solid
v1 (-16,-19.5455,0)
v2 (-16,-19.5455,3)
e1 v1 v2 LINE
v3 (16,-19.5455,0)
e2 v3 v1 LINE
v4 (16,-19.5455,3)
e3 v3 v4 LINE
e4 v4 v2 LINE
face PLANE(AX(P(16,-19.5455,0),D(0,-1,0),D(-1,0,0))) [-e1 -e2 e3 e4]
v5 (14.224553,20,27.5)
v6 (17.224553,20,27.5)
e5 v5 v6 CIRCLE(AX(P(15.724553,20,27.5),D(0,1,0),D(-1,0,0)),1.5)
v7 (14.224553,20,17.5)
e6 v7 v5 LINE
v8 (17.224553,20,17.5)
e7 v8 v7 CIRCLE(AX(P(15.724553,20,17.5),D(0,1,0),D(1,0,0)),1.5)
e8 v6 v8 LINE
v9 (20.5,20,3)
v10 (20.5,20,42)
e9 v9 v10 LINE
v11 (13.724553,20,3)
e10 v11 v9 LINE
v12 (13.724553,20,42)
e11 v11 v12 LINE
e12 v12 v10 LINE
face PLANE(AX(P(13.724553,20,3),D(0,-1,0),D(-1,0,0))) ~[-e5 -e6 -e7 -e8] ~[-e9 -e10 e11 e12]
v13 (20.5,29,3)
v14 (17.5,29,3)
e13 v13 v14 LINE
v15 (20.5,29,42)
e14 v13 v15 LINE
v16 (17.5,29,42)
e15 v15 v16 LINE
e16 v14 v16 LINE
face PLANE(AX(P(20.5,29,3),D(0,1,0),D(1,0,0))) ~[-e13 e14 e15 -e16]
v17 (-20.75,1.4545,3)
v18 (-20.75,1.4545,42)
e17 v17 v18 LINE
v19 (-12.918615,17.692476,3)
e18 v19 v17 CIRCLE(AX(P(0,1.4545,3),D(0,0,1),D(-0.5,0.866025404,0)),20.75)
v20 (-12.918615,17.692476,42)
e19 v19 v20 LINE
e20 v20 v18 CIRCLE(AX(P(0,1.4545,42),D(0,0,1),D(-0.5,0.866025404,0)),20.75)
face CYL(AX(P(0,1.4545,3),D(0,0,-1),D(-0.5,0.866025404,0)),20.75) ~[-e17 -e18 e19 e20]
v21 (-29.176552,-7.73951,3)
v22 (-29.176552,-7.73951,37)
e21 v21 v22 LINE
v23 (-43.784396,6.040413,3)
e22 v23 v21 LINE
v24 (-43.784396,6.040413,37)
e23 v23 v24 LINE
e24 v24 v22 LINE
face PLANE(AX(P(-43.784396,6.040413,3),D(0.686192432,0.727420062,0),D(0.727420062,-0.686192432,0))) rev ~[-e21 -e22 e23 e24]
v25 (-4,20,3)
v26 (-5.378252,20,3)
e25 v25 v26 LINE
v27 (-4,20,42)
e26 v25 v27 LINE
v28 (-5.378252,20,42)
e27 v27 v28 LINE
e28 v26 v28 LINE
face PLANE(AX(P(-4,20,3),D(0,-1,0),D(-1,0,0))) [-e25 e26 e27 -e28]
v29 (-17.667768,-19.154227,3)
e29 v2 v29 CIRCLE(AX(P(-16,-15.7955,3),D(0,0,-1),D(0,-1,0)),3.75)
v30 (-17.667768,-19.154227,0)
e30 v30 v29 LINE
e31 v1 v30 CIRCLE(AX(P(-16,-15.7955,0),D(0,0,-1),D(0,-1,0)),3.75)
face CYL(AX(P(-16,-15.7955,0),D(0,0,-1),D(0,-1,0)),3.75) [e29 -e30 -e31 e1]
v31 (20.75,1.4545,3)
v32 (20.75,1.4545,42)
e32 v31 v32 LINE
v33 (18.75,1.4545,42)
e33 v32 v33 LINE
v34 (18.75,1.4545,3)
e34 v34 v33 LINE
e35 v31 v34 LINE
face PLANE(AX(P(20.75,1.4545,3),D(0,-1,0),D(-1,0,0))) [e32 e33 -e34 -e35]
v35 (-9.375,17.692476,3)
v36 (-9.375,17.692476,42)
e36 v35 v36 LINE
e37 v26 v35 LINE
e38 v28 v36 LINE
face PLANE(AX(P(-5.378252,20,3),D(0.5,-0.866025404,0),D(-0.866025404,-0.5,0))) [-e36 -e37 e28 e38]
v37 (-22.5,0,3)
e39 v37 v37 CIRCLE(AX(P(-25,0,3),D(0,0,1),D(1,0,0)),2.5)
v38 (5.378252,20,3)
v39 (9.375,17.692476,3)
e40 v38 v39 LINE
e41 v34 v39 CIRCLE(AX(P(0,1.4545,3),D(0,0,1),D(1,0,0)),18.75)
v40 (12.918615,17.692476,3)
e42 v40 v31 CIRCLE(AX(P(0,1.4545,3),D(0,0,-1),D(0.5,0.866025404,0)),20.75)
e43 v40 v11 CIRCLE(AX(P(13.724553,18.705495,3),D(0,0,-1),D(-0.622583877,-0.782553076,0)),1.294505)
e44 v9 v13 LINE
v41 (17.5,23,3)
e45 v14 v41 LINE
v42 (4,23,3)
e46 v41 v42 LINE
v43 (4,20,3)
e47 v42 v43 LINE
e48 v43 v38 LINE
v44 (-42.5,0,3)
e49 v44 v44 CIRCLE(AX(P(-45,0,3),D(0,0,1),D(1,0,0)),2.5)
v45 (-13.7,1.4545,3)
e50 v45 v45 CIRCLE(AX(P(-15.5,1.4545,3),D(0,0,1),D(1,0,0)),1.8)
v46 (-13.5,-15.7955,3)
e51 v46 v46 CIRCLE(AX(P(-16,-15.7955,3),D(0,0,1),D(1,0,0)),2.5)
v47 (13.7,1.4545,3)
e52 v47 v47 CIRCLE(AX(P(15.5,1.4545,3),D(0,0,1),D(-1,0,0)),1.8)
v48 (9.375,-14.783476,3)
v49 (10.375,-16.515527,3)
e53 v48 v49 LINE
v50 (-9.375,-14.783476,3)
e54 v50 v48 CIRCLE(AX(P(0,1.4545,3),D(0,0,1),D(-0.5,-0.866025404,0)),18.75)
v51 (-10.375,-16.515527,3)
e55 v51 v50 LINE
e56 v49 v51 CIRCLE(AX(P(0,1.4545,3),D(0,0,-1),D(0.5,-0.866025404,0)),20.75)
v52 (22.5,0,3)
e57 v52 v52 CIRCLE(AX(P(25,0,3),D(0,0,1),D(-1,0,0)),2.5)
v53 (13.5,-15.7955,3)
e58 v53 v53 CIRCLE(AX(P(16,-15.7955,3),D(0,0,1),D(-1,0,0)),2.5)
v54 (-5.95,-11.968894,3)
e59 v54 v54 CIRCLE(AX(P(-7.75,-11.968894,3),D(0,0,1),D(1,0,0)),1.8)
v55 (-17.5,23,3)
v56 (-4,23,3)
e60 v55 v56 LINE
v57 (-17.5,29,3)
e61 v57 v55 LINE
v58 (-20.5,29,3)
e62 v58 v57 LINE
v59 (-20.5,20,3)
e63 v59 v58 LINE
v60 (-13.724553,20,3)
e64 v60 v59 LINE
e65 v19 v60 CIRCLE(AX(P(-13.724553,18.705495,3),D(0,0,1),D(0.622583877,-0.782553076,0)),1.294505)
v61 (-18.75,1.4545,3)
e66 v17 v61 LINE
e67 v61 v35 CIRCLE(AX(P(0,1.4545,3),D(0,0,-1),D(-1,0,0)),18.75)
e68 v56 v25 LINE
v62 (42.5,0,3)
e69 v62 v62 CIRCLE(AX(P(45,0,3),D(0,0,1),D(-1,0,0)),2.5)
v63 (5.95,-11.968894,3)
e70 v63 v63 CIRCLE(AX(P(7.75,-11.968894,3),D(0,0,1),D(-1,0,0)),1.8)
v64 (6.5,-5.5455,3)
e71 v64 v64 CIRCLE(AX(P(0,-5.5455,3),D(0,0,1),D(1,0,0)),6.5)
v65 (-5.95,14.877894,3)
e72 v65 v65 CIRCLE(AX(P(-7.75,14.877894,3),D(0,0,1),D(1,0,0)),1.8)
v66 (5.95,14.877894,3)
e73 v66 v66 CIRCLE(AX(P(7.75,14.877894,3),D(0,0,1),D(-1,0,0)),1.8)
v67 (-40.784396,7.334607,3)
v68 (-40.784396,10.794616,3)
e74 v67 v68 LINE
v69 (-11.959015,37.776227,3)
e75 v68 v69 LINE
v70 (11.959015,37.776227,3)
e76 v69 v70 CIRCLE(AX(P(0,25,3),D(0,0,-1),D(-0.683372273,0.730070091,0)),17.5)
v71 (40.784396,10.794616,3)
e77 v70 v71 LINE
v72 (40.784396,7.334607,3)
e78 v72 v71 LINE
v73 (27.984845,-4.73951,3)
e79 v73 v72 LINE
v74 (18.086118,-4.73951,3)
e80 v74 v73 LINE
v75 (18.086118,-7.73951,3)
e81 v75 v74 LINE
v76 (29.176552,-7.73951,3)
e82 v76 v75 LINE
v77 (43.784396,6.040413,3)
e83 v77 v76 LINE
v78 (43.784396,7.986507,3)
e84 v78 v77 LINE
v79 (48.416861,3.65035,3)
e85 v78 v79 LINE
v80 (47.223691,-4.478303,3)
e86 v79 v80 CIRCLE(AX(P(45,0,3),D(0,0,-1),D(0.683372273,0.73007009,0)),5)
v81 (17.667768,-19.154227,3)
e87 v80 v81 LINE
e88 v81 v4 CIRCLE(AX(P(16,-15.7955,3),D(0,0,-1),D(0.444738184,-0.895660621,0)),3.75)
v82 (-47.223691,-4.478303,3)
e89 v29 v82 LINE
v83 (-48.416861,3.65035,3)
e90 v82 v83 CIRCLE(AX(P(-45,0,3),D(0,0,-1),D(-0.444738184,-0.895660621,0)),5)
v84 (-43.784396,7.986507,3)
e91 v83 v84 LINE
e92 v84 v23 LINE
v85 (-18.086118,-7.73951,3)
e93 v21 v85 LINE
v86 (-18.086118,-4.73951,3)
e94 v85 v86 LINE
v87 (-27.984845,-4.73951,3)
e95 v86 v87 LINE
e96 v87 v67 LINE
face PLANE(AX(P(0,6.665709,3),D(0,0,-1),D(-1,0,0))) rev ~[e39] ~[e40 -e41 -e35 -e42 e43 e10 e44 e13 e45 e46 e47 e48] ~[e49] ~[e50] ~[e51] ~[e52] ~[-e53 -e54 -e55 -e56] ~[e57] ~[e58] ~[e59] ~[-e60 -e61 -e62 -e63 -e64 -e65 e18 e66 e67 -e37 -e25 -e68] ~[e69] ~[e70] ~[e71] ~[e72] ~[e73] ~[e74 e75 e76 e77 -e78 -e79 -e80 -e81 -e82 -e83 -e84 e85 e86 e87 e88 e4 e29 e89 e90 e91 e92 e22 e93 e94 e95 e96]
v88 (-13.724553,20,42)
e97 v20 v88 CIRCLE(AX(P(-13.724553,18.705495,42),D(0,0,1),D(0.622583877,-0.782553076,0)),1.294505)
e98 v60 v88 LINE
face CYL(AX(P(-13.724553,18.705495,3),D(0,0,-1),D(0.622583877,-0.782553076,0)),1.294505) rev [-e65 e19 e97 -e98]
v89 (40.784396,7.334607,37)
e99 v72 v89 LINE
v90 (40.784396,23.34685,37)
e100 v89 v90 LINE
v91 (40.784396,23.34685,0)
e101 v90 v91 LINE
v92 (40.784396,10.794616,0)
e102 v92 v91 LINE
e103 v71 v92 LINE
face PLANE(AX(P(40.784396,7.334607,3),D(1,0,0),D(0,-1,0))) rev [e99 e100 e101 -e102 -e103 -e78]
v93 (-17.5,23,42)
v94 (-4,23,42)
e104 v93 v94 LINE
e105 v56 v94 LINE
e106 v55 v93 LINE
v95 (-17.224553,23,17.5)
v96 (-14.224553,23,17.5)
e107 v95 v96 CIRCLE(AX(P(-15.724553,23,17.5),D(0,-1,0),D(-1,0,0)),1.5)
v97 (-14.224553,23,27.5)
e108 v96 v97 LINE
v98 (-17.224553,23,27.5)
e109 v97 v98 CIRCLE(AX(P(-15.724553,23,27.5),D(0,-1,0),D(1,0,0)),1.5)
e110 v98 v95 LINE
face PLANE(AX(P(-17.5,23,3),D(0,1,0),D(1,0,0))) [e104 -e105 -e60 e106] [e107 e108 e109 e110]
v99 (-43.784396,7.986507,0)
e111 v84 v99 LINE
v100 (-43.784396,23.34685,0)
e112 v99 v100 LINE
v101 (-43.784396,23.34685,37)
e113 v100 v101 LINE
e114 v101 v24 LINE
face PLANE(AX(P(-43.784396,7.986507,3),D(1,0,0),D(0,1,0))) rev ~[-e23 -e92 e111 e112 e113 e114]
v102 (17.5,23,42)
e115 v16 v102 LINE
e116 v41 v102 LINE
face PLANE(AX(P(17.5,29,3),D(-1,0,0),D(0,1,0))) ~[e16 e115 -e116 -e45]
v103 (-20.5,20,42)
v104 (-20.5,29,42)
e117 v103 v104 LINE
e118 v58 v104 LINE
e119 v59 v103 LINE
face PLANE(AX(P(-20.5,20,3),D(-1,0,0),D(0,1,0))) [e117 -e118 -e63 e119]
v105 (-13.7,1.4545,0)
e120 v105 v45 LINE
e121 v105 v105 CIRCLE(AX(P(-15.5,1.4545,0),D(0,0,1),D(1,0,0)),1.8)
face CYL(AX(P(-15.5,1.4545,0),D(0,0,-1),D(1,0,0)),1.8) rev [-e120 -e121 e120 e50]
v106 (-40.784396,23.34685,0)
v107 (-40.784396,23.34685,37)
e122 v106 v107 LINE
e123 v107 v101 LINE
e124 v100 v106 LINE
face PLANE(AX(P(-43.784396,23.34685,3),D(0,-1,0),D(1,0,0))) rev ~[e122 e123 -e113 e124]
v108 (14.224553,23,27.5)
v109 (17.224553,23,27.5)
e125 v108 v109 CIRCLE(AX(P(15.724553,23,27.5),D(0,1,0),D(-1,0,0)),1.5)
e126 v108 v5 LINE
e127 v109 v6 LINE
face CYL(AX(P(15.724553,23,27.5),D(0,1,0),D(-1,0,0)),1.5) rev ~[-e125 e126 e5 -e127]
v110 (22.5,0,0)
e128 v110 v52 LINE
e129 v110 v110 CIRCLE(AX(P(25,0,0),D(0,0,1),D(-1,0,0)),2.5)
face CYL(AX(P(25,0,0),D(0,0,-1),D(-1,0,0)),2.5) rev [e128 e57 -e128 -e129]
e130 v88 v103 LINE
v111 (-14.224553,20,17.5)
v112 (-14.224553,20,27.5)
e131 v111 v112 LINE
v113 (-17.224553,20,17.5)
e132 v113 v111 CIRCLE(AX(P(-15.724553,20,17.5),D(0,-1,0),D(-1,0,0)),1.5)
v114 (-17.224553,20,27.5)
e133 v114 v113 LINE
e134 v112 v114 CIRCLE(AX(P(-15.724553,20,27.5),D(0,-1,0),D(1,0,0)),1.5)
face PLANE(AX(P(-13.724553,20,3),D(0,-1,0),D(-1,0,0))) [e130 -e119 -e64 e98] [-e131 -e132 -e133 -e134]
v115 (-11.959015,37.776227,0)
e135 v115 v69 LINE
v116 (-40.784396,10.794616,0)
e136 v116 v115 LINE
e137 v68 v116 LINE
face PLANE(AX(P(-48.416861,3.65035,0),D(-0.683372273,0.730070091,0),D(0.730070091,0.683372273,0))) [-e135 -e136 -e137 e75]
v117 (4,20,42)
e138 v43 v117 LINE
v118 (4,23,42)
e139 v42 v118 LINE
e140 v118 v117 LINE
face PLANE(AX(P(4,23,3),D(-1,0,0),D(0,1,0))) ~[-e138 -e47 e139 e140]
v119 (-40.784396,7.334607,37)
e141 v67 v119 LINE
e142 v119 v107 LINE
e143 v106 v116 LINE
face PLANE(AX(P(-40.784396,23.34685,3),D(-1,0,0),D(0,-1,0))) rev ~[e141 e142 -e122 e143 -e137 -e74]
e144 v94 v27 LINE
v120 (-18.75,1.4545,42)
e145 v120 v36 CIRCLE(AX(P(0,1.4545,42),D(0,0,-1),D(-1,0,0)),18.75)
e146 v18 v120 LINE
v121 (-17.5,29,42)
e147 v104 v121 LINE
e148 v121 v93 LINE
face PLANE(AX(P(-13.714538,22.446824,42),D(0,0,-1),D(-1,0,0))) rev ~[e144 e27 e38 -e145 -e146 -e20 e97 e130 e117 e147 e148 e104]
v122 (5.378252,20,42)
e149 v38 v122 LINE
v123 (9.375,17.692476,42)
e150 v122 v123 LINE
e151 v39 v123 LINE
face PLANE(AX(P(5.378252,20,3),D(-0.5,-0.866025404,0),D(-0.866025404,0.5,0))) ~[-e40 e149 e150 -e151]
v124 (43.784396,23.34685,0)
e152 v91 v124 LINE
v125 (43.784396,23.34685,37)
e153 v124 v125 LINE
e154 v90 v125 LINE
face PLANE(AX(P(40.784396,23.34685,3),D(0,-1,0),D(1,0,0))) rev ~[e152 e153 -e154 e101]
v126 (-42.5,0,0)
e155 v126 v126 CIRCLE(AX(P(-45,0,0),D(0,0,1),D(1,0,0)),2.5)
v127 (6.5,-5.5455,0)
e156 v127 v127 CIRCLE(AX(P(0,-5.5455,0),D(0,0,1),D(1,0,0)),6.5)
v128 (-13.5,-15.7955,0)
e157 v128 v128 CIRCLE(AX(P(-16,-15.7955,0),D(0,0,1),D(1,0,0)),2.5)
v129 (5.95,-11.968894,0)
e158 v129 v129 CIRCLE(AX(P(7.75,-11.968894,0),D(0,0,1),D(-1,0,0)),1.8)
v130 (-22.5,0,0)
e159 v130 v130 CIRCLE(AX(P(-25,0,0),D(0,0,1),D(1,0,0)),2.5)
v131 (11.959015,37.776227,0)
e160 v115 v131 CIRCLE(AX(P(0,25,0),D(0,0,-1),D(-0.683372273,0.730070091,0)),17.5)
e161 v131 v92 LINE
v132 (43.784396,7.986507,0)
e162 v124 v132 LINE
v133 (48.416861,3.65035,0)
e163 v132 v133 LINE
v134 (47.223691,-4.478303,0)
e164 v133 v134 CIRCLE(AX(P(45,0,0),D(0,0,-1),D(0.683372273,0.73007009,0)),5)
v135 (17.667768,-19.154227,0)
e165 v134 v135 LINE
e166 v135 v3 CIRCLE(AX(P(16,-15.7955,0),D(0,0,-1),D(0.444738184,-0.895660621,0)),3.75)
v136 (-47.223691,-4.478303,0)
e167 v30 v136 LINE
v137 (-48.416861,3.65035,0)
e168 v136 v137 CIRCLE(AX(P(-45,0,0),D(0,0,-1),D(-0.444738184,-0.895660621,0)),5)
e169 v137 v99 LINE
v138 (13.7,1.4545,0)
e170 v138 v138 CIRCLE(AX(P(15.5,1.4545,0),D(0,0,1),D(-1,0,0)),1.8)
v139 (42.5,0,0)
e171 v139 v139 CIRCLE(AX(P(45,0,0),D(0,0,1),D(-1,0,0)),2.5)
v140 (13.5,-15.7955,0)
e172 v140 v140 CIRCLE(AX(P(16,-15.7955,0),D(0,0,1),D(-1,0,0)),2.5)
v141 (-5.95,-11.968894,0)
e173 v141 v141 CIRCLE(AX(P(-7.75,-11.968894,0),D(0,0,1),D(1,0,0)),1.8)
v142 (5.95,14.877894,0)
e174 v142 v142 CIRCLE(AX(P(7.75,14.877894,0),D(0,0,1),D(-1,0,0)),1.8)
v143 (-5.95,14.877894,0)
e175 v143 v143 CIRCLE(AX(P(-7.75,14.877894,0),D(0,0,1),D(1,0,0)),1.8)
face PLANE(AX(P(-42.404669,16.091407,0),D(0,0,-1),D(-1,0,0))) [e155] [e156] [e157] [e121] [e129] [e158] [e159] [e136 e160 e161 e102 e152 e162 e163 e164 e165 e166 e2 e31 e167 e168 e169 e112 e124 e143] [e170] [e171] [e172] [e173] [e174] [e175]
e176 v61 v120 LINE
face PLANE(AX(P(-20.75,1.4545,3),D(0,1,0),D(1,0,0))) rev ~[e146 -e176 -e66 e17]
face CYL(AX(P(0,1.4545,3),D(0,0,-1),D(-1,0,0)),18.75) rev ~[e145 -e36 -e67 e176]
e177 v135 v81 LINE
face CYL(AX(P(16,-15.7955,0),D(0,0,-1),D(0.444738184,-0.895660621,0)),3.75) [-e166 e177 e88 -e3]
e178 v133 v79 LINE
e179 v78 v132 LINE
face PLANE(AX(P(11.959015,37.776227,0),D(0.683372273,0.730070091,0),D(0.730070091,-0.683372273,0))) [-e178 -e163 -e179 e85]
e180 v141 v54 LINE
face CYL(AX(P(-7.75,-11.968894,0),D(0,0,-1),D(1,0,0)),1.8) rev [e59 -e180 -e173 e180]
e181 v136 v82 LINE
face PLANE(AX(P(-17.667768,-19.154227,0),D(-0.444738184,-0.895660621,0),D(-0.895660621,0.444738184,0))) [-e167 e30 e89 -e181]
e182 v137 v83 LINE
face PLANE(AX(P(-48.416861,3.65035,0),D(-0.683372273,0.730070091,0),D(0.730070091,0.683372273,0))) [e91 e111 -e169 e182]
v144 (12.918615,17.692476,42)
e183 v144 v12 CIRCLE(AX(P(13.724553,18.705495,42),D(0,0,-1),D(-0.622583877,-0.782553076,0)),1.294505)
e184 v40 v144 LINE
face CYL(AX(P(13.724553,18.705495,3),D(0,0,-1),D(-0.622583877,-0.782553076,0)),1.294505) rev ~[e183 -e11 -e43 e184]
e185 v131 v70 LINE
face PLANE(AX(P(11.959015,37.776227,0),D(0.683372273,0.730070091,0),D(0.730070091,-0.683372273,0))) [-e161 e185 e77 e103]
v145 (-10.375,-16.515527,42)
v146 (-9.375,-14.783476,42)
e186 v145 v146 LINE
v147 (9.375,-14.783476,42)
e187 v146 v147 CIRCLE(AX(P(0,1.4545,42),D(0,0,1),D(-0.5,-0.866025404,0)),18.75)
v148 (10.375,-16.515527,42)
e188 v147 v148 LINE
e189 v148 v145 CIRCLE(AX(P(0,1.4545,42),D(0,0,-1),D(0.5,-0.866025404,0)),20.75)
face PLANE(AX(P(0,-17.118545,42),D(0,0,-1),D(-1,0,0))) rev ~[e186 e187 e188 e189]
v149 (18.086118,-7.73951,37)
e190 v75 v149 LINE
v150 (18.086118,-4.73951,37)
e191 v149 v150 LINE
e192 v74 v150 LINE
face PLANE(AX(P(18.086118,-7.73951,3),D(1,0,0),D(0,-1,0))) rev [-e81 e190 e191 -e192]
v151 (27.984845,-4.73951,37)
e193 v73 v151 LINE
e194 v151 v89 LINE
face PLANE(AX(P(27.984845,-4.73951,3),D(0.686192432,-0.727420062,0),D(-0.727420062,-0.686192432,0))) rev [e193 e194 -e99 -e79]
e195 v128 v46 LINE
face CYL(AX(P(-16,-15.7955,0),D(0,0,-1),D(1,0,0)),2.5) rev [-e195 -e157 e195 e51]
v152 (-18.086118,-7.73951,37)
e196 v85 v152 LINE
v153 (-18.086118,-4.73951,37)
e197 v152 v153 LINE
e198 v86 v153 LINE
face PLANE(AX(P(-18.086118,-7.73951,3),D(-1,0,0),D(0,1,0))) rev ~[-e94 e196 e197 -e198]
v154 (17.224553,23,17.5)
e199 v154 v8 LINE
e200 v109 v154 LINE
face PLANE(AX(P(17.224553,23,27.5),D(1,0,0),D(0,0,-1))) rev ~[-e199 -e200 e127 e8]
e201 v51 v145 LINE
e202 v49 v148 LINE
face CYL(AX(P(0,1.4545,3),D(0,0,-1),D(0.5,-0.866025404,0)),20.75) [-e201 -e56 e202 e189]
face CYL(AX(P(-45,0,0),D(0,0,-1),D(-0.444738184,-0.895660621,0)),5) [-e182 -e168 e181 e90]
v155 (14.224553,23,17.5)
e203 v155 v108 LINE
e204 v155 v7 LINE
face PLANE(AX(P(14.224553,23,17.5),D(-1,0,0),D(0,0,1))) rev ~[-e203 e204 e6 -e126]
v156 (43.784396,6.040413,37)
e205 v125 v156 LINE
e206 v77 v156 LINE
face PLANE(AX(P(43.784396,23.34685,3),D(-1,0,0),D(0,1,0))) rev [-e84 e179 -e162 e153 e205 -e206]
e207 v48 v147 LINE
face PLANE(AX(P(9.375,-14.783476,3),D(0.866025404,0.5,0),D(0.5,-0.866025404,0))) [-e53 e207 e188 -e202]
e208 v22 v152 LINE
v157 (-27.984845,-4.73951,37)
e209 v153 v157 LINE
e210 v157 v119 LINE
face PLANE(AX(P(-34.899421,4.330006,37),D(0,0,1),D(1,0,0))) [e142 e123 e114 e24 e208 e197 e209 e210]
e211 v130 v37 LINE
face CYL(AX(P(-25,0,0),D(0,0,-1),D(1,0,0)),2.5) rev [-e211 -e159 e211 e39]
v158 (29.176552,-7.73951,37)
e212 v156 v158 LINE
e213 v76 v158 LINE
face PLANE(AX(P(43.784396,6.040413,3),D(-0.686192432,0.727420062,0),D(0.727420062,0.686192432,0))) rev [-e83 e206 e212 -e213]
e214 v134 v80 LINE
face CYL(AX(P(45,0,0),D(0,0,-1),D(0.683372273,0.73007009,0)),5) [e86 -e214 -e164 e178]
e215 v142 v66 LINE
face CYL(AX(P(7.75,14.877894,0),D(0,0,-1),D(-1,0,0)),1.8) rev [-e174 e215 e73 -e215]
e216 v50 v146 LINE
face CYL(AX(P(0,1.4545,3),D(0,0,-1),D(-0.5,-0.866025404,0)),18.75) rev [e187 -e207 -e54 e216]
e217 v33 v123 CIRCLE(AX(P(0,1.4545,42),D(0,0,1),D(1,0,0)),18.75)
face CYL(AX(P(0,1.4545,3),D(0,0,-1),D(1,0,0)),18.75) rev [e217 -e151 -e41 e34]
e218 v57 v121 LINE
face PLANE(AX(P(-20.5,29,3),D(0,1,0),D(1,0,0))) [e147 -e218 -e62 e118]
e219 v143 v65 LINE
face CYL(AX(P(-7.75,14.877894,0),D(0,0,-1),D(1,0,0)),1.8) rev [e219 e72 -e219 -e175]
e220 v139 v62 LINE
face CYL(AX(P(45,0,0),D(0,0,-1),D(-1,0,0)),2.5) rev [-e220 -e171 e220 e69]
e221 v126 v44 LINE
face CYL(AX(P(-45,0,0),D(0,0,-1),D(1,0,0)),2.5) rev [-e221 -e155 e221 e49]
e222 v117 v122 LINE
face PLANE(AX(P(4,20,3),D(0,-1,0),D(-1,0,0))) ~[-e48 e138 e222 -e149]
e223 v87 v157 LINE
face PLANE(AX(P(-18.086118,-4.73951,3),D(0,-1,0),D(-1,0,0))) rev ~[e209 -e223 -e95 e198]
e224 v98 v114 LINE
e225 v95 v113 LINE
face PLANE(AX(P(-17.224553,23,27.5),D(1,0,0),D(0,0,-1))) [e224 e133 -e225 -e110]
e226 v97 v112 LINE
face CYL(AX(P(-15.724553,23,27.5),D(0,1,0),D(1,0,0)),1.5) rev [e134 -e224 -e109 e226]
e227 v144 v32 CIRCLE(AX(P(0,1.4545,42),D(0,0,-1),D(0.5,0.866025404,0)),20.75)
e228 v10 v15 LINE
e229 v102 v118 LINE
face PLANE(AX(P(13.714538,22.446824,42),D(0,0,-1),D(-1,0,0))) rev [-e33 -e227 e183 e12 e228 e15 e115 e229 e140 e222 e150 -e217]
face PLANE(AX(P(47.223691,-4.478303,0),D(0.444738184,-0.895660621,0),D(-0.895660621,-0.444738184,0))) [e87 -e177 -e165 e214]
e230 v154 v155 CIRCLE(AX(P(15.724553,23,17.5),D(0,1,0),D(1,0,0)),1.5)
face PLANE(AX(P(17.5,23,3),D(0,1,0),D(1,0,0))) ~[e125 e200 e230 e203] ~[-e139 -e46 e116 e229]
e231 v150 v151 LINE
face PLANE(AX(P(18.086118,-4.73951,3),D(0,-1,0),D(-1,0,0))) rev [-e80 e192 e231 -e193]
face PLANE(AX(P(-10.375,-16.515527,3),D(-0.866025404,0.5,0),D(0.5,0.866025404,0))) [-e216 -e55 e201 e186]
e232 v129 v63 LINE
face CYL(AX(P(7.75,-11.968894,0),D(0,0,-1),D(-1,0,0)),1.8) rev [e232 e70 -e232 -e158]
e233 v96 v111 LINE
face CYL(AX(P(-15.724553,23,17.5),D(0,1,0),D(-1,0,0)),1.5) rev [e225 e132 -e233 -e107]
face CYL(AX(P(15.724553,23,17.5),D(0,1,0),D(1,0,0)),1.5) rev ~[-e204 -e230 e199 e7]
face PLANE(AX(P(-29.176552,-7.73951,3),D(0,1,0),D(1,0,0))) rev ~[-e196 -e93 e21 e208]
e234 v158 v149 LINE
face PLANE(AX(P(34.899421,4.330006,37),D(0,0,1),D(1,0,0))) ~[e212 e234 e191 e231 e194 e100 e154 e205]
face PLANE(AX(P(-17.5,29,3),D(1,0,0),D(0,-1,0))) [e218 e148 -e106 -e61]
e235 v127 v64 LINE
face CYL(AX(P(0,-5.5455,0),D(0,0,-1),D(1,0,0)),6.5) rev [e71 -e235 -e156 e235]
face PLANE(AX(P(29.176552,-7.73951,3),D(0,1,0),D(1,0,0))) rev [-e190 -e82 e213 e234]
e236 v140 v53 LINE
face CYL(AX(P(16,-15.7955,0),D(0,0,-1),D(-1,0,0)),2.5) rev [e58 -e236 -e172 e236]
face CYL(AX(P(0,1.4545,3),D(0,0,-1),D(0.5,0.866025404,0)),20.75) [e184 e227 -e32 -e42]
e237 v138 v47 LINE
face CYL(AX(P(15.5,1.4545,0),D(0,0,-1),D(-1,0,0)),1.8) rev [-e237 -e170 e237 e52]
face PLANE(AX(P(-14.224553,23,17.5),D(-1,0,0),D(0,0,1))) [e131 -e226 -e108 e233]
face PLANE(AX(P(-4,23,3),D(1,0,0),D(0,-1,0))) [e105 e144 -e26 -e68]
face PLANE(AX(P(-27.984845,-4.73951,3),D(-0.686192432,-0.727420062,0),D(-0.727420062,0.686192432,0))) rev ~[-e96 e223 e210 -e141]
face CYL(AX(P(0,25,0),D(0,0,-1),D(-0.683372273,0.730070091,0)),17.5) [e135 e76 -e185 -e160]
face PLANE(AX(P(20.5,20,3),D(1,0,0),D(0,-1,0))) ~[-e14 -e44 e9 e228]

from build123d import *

# Parameters (mm, degrees)
SKETCH1_R           = 2.5
SKETCH1_R_2         = 6.5
SKETCH1_R_3         = 1.8
BOSS_EXTRUDE1_DEPTH = 3
BOSS_EXTRUDE2_DEPTH = 39
BOSS_EXTRUDE3_DEPTH = 39
CUT_EXTRUDE1_DEPTH  = 3
BOSS_EXTRUDE4_DEPTH = 34
BOSS_EXTRUDE5_DEPTH = 3


with BuildPart() as part:
    # Sketch1 → Boss-Extrude1 (new body)
    with BuildSketch(Plane.XY):
        with BuildLine():
            Line((-48.416861363, 3.650350453), (-11.959014769, 37.776226585))
            ThreePointArc((-11.959014769, 37.776226585), (0, 42.5), (11.959014769, 37.776226585))
            Line((11.959014769, 37.776226585), (48.416861363, 3.650350453))
            ThreePointArc((48.416861363, 3.650350453), (49.946989961, -0.726147591), (47.22369092, -4.478303104))
            Line((47.22369092, -4.478303104), (17.66776819, -19.154227328))
            ThreePointArc((17.66776819, -19.154227328), (16.856525691, -19.446371641), (16, -19.5455))
            Line((16, -19.5455), (-16, -19.5455))
            ThreePointArc((-16, -19.5455), (-16.856525691, -19.446371641), (-17.66776819, -19.154227328))
            Line((-17.66776819, -19.154227328), (-47.22369092, -4.478303104))
            ThreePointArc((-47.22369092, -4.478303104), (-49.946989961, -0.726147591), (-48.416861363, 3.650350453))
        make_face()
        with Locations((-25, 0)):
            Circle(SKETCH1_R, mode=Mode.SUBTRACT)
        with Locations((0, -5.5455)):
            Circle(SKETCH1_R_2, mode=Mode.SUBTRACT)
        with Locations((-7.75, 14.877893759)):
            Circle(SKETCH1_R_3, mode=Mode.SUBTRACT)
        with Locations((-15.5, 1.4545)):
            Circle(SKETCH1_R_3, mode=Mode.SUBTRACT)
        with Locations((-7.75, -11.968893759)):
            Circle(SKETCH1_R_3, mode=Mode.SUBTRACT)
        with Locations(Location((7.75, -11.968893759, 0), (0, 0, 180))):
            Circle(SKETCH1_R_3, mode=Mode.SUBTRACT)
        with Locations(Location((7.75, 14.877893759, 0), (0, 0, 180))):
            Circle(SKETCH1_R_3, mode=Mode.SUBTRACT)
        with Locations(Location((15.5, 1.4545, 0), (0, 0, 180))):
            Circle(SKETCH1_R_3, mode=Mode.SUBTRACT)
        with Locations(Location((25, 0, 0), (0, 0, 180))):
            Circle(SKETCH1_R, mode=Mode.SUBTRACT)
        with Locations((-45, 0)):
            Circle(SKETCH1_R, mode=Mode.SUBTRACT)
        with Locations(Location((45, 0, 0), (0, 0, 180))):
            Circle(SKETCH1_R, mode=Mode.SUBTRACT)
        with Locations((-16, -15.7955)):
            Circle(SKETCH1_R, mode=Mode.SUBTRACT)
        with Locations(Location((16, -15.7955, 0), (0, 0, 180))):
            Circle(SKETCH1_R, mode=Mode.SUBTRACT)
    extrude(amount=BOSS_EXTRUDE1_DEPTH)

    # Sketch2 → Boss-Extrude2 (add)
    with BuildSketch(Plane.XY.offset(3)):
        with BuildLine():
            Line((-20.75, 1.4545), (-18.75, 1.4545))
            ThreePointArc((-18.75, 1.4545), (-16.237976321, 10.8295), (-9.375, 17.692476321))
            Line((-9.375, 17.692476321), (-10.375, 19.424527129))
            ThreePointArc((-10.375, 19.424527129), (-17.970027129, 11.8295), (-20.75, 1.4545))
        make_face()
        with BuildLine():
            Line((-10.375, -16.515527129), (-9.375, -14.783476321))
            ThreePointArc((-9.375, -14.783476321), (0, -17.2955), (9.375, -14.783476321))
            Line((9.375, -14.783476321), (10.375, -16.515527129))
            ThreePointArc((10.375, -16.515527129), (0, -19.2955), (-10.375, -16.515527129))
        make_face()
        with BuildLine():
            ThreePointArc((18.75, 1.4545), (16.237976321, 10.8295), (9.375, 17.692476321))
            Line((9.375, 17.692476321), (10.375, 19.424527129))
            ThreePointArc((10.375, 19.424527129), (17.970027129, 11.8295), (20.75, 1.4545))
            Line((20.75, 1.4545), (18.75, 1.4545))
        make_face()
    extrude(amount=BOSS_EXTRUDE2_DEPTH)

    # Sketch3 → Boss-Extrude3 (add)
    with BuildSketch(Plane.XY.offset(3)):
        with BuildLine():
            Line((-17.5, 29), (-17.5, 23))
            Line((-17.5, 23), (-4, 23))
            Line((-4, 23), (-4, 20))
            Line((-4, 20), (-5.378251748, 20))
            Line((-5.378251748, 20), (-9.375, 17.692476321))
            Line((-9.375, 17.692476321), (-12.918615444, 17.692476321))
            ThreePointArc((-12.918615444, 17.692476321), (-12.502444344, 19.132335325), (-13.724553319, 20))
            Line((-13.724553319, 20), (-20.5, 20))
            Line((-20.5, 20), (-20.5, 29))
            Line((-20.5, 29), (-17.5, 29))
        make_face()
    boss_extrude3 = extrude(amount=BOSS_EXTRUDE3_DEPTH)

    # Mirror1: Boss-Extrude3 across plane
    add(boss_extrude3.mirror(Plane(origin=(0, 0, 0), x_dir=(0, 0, 1), z_dir=(1, 0, 0))))

    # Sketch4 → Cut-Extrude1 (cut)
    with BuildSketch(Plane(origin=(0, 23, 0), x_dir=(1, 0, 0), z_dir=(0, 1, 0))):
        with BuildLine():
            Line((-14.224553319, -17.5), (-14.224553319, -27.5))
            ThreePointArc((-14.224553319, -27.5), (-15.724553319, -29), (-17.224553319, -27.5))
            Line((-17.224553319, -27.5), (-17.224553319, -17.5))
            ThreePointArc((-17.224553319, -17.5), (-15.724553319, -16), (-14.224553319, -17.5))
        make_face()
        with BuildLine():
            Line((14.224553319, -17.5), (14.224553319, -27.5))
            ThreePointArc((14.224553319, -27.5), (15.724553319, -29), (17.224553319, -27.5))
            Line((17.224553319, -27.5), (17.224553319, -17.5))
            ThreePointArc((17.224553319, -17.5), (15.724553319, -16), (14.224553319, -17.5))
        make_face()
    extrude(amount=-CUT_EXTRUDE1_DEPTH, mode=Mode.SUBTRACT)

    # Sketch5 → Boss-Extrude4 (add)
    with BuildSketch(Plane.XY.offset(3)):
        Polygon((-43.784396435, 23.346849864), (-43.784396435, 6.040412882), (-29.176551712, -7.739510205), (-18.086117895, -7.739510205), (-18.086117895, -4.739510205), (-27.984845454, -4.739510205), (-40.784396435, 7.334606915), (-40.784396435, 23.346849864), align=None)
    boss_extrude4 = extrude(amount=BOSS_EXTRUDE4_DEPTH)

    # Mirror2: Boss-Extrude4 across plane
    add(boss_extrude4.mirror(Plane(origin=(0, 0, 0), x_dir=(0, 0, 1), z_dir=(1, 0, 0))))

    # Sketch6 → Boss-Extrude5 (add)
    with BuildSketch(Plane(origin=(0, 0, 3), x_dir=(-1, 0, 0), z_dir=(0, 0, -1))):
        Polygon((40.784396435, 23.346849864), (40.784396435, 10.794616422), (43.784396435, 7.986506839), (43.784396435, 23.346849864), align=None)
        Polygon((-43.784396435, 23.346849864), (-43.784396435, 7.986506839), (-40.784396435, 10.794616422), (-40.784396435, 23.346849864), align=None)
    extrude(amount=BOSS_EXTRUDE5_DEPTH)


solid = part.part
